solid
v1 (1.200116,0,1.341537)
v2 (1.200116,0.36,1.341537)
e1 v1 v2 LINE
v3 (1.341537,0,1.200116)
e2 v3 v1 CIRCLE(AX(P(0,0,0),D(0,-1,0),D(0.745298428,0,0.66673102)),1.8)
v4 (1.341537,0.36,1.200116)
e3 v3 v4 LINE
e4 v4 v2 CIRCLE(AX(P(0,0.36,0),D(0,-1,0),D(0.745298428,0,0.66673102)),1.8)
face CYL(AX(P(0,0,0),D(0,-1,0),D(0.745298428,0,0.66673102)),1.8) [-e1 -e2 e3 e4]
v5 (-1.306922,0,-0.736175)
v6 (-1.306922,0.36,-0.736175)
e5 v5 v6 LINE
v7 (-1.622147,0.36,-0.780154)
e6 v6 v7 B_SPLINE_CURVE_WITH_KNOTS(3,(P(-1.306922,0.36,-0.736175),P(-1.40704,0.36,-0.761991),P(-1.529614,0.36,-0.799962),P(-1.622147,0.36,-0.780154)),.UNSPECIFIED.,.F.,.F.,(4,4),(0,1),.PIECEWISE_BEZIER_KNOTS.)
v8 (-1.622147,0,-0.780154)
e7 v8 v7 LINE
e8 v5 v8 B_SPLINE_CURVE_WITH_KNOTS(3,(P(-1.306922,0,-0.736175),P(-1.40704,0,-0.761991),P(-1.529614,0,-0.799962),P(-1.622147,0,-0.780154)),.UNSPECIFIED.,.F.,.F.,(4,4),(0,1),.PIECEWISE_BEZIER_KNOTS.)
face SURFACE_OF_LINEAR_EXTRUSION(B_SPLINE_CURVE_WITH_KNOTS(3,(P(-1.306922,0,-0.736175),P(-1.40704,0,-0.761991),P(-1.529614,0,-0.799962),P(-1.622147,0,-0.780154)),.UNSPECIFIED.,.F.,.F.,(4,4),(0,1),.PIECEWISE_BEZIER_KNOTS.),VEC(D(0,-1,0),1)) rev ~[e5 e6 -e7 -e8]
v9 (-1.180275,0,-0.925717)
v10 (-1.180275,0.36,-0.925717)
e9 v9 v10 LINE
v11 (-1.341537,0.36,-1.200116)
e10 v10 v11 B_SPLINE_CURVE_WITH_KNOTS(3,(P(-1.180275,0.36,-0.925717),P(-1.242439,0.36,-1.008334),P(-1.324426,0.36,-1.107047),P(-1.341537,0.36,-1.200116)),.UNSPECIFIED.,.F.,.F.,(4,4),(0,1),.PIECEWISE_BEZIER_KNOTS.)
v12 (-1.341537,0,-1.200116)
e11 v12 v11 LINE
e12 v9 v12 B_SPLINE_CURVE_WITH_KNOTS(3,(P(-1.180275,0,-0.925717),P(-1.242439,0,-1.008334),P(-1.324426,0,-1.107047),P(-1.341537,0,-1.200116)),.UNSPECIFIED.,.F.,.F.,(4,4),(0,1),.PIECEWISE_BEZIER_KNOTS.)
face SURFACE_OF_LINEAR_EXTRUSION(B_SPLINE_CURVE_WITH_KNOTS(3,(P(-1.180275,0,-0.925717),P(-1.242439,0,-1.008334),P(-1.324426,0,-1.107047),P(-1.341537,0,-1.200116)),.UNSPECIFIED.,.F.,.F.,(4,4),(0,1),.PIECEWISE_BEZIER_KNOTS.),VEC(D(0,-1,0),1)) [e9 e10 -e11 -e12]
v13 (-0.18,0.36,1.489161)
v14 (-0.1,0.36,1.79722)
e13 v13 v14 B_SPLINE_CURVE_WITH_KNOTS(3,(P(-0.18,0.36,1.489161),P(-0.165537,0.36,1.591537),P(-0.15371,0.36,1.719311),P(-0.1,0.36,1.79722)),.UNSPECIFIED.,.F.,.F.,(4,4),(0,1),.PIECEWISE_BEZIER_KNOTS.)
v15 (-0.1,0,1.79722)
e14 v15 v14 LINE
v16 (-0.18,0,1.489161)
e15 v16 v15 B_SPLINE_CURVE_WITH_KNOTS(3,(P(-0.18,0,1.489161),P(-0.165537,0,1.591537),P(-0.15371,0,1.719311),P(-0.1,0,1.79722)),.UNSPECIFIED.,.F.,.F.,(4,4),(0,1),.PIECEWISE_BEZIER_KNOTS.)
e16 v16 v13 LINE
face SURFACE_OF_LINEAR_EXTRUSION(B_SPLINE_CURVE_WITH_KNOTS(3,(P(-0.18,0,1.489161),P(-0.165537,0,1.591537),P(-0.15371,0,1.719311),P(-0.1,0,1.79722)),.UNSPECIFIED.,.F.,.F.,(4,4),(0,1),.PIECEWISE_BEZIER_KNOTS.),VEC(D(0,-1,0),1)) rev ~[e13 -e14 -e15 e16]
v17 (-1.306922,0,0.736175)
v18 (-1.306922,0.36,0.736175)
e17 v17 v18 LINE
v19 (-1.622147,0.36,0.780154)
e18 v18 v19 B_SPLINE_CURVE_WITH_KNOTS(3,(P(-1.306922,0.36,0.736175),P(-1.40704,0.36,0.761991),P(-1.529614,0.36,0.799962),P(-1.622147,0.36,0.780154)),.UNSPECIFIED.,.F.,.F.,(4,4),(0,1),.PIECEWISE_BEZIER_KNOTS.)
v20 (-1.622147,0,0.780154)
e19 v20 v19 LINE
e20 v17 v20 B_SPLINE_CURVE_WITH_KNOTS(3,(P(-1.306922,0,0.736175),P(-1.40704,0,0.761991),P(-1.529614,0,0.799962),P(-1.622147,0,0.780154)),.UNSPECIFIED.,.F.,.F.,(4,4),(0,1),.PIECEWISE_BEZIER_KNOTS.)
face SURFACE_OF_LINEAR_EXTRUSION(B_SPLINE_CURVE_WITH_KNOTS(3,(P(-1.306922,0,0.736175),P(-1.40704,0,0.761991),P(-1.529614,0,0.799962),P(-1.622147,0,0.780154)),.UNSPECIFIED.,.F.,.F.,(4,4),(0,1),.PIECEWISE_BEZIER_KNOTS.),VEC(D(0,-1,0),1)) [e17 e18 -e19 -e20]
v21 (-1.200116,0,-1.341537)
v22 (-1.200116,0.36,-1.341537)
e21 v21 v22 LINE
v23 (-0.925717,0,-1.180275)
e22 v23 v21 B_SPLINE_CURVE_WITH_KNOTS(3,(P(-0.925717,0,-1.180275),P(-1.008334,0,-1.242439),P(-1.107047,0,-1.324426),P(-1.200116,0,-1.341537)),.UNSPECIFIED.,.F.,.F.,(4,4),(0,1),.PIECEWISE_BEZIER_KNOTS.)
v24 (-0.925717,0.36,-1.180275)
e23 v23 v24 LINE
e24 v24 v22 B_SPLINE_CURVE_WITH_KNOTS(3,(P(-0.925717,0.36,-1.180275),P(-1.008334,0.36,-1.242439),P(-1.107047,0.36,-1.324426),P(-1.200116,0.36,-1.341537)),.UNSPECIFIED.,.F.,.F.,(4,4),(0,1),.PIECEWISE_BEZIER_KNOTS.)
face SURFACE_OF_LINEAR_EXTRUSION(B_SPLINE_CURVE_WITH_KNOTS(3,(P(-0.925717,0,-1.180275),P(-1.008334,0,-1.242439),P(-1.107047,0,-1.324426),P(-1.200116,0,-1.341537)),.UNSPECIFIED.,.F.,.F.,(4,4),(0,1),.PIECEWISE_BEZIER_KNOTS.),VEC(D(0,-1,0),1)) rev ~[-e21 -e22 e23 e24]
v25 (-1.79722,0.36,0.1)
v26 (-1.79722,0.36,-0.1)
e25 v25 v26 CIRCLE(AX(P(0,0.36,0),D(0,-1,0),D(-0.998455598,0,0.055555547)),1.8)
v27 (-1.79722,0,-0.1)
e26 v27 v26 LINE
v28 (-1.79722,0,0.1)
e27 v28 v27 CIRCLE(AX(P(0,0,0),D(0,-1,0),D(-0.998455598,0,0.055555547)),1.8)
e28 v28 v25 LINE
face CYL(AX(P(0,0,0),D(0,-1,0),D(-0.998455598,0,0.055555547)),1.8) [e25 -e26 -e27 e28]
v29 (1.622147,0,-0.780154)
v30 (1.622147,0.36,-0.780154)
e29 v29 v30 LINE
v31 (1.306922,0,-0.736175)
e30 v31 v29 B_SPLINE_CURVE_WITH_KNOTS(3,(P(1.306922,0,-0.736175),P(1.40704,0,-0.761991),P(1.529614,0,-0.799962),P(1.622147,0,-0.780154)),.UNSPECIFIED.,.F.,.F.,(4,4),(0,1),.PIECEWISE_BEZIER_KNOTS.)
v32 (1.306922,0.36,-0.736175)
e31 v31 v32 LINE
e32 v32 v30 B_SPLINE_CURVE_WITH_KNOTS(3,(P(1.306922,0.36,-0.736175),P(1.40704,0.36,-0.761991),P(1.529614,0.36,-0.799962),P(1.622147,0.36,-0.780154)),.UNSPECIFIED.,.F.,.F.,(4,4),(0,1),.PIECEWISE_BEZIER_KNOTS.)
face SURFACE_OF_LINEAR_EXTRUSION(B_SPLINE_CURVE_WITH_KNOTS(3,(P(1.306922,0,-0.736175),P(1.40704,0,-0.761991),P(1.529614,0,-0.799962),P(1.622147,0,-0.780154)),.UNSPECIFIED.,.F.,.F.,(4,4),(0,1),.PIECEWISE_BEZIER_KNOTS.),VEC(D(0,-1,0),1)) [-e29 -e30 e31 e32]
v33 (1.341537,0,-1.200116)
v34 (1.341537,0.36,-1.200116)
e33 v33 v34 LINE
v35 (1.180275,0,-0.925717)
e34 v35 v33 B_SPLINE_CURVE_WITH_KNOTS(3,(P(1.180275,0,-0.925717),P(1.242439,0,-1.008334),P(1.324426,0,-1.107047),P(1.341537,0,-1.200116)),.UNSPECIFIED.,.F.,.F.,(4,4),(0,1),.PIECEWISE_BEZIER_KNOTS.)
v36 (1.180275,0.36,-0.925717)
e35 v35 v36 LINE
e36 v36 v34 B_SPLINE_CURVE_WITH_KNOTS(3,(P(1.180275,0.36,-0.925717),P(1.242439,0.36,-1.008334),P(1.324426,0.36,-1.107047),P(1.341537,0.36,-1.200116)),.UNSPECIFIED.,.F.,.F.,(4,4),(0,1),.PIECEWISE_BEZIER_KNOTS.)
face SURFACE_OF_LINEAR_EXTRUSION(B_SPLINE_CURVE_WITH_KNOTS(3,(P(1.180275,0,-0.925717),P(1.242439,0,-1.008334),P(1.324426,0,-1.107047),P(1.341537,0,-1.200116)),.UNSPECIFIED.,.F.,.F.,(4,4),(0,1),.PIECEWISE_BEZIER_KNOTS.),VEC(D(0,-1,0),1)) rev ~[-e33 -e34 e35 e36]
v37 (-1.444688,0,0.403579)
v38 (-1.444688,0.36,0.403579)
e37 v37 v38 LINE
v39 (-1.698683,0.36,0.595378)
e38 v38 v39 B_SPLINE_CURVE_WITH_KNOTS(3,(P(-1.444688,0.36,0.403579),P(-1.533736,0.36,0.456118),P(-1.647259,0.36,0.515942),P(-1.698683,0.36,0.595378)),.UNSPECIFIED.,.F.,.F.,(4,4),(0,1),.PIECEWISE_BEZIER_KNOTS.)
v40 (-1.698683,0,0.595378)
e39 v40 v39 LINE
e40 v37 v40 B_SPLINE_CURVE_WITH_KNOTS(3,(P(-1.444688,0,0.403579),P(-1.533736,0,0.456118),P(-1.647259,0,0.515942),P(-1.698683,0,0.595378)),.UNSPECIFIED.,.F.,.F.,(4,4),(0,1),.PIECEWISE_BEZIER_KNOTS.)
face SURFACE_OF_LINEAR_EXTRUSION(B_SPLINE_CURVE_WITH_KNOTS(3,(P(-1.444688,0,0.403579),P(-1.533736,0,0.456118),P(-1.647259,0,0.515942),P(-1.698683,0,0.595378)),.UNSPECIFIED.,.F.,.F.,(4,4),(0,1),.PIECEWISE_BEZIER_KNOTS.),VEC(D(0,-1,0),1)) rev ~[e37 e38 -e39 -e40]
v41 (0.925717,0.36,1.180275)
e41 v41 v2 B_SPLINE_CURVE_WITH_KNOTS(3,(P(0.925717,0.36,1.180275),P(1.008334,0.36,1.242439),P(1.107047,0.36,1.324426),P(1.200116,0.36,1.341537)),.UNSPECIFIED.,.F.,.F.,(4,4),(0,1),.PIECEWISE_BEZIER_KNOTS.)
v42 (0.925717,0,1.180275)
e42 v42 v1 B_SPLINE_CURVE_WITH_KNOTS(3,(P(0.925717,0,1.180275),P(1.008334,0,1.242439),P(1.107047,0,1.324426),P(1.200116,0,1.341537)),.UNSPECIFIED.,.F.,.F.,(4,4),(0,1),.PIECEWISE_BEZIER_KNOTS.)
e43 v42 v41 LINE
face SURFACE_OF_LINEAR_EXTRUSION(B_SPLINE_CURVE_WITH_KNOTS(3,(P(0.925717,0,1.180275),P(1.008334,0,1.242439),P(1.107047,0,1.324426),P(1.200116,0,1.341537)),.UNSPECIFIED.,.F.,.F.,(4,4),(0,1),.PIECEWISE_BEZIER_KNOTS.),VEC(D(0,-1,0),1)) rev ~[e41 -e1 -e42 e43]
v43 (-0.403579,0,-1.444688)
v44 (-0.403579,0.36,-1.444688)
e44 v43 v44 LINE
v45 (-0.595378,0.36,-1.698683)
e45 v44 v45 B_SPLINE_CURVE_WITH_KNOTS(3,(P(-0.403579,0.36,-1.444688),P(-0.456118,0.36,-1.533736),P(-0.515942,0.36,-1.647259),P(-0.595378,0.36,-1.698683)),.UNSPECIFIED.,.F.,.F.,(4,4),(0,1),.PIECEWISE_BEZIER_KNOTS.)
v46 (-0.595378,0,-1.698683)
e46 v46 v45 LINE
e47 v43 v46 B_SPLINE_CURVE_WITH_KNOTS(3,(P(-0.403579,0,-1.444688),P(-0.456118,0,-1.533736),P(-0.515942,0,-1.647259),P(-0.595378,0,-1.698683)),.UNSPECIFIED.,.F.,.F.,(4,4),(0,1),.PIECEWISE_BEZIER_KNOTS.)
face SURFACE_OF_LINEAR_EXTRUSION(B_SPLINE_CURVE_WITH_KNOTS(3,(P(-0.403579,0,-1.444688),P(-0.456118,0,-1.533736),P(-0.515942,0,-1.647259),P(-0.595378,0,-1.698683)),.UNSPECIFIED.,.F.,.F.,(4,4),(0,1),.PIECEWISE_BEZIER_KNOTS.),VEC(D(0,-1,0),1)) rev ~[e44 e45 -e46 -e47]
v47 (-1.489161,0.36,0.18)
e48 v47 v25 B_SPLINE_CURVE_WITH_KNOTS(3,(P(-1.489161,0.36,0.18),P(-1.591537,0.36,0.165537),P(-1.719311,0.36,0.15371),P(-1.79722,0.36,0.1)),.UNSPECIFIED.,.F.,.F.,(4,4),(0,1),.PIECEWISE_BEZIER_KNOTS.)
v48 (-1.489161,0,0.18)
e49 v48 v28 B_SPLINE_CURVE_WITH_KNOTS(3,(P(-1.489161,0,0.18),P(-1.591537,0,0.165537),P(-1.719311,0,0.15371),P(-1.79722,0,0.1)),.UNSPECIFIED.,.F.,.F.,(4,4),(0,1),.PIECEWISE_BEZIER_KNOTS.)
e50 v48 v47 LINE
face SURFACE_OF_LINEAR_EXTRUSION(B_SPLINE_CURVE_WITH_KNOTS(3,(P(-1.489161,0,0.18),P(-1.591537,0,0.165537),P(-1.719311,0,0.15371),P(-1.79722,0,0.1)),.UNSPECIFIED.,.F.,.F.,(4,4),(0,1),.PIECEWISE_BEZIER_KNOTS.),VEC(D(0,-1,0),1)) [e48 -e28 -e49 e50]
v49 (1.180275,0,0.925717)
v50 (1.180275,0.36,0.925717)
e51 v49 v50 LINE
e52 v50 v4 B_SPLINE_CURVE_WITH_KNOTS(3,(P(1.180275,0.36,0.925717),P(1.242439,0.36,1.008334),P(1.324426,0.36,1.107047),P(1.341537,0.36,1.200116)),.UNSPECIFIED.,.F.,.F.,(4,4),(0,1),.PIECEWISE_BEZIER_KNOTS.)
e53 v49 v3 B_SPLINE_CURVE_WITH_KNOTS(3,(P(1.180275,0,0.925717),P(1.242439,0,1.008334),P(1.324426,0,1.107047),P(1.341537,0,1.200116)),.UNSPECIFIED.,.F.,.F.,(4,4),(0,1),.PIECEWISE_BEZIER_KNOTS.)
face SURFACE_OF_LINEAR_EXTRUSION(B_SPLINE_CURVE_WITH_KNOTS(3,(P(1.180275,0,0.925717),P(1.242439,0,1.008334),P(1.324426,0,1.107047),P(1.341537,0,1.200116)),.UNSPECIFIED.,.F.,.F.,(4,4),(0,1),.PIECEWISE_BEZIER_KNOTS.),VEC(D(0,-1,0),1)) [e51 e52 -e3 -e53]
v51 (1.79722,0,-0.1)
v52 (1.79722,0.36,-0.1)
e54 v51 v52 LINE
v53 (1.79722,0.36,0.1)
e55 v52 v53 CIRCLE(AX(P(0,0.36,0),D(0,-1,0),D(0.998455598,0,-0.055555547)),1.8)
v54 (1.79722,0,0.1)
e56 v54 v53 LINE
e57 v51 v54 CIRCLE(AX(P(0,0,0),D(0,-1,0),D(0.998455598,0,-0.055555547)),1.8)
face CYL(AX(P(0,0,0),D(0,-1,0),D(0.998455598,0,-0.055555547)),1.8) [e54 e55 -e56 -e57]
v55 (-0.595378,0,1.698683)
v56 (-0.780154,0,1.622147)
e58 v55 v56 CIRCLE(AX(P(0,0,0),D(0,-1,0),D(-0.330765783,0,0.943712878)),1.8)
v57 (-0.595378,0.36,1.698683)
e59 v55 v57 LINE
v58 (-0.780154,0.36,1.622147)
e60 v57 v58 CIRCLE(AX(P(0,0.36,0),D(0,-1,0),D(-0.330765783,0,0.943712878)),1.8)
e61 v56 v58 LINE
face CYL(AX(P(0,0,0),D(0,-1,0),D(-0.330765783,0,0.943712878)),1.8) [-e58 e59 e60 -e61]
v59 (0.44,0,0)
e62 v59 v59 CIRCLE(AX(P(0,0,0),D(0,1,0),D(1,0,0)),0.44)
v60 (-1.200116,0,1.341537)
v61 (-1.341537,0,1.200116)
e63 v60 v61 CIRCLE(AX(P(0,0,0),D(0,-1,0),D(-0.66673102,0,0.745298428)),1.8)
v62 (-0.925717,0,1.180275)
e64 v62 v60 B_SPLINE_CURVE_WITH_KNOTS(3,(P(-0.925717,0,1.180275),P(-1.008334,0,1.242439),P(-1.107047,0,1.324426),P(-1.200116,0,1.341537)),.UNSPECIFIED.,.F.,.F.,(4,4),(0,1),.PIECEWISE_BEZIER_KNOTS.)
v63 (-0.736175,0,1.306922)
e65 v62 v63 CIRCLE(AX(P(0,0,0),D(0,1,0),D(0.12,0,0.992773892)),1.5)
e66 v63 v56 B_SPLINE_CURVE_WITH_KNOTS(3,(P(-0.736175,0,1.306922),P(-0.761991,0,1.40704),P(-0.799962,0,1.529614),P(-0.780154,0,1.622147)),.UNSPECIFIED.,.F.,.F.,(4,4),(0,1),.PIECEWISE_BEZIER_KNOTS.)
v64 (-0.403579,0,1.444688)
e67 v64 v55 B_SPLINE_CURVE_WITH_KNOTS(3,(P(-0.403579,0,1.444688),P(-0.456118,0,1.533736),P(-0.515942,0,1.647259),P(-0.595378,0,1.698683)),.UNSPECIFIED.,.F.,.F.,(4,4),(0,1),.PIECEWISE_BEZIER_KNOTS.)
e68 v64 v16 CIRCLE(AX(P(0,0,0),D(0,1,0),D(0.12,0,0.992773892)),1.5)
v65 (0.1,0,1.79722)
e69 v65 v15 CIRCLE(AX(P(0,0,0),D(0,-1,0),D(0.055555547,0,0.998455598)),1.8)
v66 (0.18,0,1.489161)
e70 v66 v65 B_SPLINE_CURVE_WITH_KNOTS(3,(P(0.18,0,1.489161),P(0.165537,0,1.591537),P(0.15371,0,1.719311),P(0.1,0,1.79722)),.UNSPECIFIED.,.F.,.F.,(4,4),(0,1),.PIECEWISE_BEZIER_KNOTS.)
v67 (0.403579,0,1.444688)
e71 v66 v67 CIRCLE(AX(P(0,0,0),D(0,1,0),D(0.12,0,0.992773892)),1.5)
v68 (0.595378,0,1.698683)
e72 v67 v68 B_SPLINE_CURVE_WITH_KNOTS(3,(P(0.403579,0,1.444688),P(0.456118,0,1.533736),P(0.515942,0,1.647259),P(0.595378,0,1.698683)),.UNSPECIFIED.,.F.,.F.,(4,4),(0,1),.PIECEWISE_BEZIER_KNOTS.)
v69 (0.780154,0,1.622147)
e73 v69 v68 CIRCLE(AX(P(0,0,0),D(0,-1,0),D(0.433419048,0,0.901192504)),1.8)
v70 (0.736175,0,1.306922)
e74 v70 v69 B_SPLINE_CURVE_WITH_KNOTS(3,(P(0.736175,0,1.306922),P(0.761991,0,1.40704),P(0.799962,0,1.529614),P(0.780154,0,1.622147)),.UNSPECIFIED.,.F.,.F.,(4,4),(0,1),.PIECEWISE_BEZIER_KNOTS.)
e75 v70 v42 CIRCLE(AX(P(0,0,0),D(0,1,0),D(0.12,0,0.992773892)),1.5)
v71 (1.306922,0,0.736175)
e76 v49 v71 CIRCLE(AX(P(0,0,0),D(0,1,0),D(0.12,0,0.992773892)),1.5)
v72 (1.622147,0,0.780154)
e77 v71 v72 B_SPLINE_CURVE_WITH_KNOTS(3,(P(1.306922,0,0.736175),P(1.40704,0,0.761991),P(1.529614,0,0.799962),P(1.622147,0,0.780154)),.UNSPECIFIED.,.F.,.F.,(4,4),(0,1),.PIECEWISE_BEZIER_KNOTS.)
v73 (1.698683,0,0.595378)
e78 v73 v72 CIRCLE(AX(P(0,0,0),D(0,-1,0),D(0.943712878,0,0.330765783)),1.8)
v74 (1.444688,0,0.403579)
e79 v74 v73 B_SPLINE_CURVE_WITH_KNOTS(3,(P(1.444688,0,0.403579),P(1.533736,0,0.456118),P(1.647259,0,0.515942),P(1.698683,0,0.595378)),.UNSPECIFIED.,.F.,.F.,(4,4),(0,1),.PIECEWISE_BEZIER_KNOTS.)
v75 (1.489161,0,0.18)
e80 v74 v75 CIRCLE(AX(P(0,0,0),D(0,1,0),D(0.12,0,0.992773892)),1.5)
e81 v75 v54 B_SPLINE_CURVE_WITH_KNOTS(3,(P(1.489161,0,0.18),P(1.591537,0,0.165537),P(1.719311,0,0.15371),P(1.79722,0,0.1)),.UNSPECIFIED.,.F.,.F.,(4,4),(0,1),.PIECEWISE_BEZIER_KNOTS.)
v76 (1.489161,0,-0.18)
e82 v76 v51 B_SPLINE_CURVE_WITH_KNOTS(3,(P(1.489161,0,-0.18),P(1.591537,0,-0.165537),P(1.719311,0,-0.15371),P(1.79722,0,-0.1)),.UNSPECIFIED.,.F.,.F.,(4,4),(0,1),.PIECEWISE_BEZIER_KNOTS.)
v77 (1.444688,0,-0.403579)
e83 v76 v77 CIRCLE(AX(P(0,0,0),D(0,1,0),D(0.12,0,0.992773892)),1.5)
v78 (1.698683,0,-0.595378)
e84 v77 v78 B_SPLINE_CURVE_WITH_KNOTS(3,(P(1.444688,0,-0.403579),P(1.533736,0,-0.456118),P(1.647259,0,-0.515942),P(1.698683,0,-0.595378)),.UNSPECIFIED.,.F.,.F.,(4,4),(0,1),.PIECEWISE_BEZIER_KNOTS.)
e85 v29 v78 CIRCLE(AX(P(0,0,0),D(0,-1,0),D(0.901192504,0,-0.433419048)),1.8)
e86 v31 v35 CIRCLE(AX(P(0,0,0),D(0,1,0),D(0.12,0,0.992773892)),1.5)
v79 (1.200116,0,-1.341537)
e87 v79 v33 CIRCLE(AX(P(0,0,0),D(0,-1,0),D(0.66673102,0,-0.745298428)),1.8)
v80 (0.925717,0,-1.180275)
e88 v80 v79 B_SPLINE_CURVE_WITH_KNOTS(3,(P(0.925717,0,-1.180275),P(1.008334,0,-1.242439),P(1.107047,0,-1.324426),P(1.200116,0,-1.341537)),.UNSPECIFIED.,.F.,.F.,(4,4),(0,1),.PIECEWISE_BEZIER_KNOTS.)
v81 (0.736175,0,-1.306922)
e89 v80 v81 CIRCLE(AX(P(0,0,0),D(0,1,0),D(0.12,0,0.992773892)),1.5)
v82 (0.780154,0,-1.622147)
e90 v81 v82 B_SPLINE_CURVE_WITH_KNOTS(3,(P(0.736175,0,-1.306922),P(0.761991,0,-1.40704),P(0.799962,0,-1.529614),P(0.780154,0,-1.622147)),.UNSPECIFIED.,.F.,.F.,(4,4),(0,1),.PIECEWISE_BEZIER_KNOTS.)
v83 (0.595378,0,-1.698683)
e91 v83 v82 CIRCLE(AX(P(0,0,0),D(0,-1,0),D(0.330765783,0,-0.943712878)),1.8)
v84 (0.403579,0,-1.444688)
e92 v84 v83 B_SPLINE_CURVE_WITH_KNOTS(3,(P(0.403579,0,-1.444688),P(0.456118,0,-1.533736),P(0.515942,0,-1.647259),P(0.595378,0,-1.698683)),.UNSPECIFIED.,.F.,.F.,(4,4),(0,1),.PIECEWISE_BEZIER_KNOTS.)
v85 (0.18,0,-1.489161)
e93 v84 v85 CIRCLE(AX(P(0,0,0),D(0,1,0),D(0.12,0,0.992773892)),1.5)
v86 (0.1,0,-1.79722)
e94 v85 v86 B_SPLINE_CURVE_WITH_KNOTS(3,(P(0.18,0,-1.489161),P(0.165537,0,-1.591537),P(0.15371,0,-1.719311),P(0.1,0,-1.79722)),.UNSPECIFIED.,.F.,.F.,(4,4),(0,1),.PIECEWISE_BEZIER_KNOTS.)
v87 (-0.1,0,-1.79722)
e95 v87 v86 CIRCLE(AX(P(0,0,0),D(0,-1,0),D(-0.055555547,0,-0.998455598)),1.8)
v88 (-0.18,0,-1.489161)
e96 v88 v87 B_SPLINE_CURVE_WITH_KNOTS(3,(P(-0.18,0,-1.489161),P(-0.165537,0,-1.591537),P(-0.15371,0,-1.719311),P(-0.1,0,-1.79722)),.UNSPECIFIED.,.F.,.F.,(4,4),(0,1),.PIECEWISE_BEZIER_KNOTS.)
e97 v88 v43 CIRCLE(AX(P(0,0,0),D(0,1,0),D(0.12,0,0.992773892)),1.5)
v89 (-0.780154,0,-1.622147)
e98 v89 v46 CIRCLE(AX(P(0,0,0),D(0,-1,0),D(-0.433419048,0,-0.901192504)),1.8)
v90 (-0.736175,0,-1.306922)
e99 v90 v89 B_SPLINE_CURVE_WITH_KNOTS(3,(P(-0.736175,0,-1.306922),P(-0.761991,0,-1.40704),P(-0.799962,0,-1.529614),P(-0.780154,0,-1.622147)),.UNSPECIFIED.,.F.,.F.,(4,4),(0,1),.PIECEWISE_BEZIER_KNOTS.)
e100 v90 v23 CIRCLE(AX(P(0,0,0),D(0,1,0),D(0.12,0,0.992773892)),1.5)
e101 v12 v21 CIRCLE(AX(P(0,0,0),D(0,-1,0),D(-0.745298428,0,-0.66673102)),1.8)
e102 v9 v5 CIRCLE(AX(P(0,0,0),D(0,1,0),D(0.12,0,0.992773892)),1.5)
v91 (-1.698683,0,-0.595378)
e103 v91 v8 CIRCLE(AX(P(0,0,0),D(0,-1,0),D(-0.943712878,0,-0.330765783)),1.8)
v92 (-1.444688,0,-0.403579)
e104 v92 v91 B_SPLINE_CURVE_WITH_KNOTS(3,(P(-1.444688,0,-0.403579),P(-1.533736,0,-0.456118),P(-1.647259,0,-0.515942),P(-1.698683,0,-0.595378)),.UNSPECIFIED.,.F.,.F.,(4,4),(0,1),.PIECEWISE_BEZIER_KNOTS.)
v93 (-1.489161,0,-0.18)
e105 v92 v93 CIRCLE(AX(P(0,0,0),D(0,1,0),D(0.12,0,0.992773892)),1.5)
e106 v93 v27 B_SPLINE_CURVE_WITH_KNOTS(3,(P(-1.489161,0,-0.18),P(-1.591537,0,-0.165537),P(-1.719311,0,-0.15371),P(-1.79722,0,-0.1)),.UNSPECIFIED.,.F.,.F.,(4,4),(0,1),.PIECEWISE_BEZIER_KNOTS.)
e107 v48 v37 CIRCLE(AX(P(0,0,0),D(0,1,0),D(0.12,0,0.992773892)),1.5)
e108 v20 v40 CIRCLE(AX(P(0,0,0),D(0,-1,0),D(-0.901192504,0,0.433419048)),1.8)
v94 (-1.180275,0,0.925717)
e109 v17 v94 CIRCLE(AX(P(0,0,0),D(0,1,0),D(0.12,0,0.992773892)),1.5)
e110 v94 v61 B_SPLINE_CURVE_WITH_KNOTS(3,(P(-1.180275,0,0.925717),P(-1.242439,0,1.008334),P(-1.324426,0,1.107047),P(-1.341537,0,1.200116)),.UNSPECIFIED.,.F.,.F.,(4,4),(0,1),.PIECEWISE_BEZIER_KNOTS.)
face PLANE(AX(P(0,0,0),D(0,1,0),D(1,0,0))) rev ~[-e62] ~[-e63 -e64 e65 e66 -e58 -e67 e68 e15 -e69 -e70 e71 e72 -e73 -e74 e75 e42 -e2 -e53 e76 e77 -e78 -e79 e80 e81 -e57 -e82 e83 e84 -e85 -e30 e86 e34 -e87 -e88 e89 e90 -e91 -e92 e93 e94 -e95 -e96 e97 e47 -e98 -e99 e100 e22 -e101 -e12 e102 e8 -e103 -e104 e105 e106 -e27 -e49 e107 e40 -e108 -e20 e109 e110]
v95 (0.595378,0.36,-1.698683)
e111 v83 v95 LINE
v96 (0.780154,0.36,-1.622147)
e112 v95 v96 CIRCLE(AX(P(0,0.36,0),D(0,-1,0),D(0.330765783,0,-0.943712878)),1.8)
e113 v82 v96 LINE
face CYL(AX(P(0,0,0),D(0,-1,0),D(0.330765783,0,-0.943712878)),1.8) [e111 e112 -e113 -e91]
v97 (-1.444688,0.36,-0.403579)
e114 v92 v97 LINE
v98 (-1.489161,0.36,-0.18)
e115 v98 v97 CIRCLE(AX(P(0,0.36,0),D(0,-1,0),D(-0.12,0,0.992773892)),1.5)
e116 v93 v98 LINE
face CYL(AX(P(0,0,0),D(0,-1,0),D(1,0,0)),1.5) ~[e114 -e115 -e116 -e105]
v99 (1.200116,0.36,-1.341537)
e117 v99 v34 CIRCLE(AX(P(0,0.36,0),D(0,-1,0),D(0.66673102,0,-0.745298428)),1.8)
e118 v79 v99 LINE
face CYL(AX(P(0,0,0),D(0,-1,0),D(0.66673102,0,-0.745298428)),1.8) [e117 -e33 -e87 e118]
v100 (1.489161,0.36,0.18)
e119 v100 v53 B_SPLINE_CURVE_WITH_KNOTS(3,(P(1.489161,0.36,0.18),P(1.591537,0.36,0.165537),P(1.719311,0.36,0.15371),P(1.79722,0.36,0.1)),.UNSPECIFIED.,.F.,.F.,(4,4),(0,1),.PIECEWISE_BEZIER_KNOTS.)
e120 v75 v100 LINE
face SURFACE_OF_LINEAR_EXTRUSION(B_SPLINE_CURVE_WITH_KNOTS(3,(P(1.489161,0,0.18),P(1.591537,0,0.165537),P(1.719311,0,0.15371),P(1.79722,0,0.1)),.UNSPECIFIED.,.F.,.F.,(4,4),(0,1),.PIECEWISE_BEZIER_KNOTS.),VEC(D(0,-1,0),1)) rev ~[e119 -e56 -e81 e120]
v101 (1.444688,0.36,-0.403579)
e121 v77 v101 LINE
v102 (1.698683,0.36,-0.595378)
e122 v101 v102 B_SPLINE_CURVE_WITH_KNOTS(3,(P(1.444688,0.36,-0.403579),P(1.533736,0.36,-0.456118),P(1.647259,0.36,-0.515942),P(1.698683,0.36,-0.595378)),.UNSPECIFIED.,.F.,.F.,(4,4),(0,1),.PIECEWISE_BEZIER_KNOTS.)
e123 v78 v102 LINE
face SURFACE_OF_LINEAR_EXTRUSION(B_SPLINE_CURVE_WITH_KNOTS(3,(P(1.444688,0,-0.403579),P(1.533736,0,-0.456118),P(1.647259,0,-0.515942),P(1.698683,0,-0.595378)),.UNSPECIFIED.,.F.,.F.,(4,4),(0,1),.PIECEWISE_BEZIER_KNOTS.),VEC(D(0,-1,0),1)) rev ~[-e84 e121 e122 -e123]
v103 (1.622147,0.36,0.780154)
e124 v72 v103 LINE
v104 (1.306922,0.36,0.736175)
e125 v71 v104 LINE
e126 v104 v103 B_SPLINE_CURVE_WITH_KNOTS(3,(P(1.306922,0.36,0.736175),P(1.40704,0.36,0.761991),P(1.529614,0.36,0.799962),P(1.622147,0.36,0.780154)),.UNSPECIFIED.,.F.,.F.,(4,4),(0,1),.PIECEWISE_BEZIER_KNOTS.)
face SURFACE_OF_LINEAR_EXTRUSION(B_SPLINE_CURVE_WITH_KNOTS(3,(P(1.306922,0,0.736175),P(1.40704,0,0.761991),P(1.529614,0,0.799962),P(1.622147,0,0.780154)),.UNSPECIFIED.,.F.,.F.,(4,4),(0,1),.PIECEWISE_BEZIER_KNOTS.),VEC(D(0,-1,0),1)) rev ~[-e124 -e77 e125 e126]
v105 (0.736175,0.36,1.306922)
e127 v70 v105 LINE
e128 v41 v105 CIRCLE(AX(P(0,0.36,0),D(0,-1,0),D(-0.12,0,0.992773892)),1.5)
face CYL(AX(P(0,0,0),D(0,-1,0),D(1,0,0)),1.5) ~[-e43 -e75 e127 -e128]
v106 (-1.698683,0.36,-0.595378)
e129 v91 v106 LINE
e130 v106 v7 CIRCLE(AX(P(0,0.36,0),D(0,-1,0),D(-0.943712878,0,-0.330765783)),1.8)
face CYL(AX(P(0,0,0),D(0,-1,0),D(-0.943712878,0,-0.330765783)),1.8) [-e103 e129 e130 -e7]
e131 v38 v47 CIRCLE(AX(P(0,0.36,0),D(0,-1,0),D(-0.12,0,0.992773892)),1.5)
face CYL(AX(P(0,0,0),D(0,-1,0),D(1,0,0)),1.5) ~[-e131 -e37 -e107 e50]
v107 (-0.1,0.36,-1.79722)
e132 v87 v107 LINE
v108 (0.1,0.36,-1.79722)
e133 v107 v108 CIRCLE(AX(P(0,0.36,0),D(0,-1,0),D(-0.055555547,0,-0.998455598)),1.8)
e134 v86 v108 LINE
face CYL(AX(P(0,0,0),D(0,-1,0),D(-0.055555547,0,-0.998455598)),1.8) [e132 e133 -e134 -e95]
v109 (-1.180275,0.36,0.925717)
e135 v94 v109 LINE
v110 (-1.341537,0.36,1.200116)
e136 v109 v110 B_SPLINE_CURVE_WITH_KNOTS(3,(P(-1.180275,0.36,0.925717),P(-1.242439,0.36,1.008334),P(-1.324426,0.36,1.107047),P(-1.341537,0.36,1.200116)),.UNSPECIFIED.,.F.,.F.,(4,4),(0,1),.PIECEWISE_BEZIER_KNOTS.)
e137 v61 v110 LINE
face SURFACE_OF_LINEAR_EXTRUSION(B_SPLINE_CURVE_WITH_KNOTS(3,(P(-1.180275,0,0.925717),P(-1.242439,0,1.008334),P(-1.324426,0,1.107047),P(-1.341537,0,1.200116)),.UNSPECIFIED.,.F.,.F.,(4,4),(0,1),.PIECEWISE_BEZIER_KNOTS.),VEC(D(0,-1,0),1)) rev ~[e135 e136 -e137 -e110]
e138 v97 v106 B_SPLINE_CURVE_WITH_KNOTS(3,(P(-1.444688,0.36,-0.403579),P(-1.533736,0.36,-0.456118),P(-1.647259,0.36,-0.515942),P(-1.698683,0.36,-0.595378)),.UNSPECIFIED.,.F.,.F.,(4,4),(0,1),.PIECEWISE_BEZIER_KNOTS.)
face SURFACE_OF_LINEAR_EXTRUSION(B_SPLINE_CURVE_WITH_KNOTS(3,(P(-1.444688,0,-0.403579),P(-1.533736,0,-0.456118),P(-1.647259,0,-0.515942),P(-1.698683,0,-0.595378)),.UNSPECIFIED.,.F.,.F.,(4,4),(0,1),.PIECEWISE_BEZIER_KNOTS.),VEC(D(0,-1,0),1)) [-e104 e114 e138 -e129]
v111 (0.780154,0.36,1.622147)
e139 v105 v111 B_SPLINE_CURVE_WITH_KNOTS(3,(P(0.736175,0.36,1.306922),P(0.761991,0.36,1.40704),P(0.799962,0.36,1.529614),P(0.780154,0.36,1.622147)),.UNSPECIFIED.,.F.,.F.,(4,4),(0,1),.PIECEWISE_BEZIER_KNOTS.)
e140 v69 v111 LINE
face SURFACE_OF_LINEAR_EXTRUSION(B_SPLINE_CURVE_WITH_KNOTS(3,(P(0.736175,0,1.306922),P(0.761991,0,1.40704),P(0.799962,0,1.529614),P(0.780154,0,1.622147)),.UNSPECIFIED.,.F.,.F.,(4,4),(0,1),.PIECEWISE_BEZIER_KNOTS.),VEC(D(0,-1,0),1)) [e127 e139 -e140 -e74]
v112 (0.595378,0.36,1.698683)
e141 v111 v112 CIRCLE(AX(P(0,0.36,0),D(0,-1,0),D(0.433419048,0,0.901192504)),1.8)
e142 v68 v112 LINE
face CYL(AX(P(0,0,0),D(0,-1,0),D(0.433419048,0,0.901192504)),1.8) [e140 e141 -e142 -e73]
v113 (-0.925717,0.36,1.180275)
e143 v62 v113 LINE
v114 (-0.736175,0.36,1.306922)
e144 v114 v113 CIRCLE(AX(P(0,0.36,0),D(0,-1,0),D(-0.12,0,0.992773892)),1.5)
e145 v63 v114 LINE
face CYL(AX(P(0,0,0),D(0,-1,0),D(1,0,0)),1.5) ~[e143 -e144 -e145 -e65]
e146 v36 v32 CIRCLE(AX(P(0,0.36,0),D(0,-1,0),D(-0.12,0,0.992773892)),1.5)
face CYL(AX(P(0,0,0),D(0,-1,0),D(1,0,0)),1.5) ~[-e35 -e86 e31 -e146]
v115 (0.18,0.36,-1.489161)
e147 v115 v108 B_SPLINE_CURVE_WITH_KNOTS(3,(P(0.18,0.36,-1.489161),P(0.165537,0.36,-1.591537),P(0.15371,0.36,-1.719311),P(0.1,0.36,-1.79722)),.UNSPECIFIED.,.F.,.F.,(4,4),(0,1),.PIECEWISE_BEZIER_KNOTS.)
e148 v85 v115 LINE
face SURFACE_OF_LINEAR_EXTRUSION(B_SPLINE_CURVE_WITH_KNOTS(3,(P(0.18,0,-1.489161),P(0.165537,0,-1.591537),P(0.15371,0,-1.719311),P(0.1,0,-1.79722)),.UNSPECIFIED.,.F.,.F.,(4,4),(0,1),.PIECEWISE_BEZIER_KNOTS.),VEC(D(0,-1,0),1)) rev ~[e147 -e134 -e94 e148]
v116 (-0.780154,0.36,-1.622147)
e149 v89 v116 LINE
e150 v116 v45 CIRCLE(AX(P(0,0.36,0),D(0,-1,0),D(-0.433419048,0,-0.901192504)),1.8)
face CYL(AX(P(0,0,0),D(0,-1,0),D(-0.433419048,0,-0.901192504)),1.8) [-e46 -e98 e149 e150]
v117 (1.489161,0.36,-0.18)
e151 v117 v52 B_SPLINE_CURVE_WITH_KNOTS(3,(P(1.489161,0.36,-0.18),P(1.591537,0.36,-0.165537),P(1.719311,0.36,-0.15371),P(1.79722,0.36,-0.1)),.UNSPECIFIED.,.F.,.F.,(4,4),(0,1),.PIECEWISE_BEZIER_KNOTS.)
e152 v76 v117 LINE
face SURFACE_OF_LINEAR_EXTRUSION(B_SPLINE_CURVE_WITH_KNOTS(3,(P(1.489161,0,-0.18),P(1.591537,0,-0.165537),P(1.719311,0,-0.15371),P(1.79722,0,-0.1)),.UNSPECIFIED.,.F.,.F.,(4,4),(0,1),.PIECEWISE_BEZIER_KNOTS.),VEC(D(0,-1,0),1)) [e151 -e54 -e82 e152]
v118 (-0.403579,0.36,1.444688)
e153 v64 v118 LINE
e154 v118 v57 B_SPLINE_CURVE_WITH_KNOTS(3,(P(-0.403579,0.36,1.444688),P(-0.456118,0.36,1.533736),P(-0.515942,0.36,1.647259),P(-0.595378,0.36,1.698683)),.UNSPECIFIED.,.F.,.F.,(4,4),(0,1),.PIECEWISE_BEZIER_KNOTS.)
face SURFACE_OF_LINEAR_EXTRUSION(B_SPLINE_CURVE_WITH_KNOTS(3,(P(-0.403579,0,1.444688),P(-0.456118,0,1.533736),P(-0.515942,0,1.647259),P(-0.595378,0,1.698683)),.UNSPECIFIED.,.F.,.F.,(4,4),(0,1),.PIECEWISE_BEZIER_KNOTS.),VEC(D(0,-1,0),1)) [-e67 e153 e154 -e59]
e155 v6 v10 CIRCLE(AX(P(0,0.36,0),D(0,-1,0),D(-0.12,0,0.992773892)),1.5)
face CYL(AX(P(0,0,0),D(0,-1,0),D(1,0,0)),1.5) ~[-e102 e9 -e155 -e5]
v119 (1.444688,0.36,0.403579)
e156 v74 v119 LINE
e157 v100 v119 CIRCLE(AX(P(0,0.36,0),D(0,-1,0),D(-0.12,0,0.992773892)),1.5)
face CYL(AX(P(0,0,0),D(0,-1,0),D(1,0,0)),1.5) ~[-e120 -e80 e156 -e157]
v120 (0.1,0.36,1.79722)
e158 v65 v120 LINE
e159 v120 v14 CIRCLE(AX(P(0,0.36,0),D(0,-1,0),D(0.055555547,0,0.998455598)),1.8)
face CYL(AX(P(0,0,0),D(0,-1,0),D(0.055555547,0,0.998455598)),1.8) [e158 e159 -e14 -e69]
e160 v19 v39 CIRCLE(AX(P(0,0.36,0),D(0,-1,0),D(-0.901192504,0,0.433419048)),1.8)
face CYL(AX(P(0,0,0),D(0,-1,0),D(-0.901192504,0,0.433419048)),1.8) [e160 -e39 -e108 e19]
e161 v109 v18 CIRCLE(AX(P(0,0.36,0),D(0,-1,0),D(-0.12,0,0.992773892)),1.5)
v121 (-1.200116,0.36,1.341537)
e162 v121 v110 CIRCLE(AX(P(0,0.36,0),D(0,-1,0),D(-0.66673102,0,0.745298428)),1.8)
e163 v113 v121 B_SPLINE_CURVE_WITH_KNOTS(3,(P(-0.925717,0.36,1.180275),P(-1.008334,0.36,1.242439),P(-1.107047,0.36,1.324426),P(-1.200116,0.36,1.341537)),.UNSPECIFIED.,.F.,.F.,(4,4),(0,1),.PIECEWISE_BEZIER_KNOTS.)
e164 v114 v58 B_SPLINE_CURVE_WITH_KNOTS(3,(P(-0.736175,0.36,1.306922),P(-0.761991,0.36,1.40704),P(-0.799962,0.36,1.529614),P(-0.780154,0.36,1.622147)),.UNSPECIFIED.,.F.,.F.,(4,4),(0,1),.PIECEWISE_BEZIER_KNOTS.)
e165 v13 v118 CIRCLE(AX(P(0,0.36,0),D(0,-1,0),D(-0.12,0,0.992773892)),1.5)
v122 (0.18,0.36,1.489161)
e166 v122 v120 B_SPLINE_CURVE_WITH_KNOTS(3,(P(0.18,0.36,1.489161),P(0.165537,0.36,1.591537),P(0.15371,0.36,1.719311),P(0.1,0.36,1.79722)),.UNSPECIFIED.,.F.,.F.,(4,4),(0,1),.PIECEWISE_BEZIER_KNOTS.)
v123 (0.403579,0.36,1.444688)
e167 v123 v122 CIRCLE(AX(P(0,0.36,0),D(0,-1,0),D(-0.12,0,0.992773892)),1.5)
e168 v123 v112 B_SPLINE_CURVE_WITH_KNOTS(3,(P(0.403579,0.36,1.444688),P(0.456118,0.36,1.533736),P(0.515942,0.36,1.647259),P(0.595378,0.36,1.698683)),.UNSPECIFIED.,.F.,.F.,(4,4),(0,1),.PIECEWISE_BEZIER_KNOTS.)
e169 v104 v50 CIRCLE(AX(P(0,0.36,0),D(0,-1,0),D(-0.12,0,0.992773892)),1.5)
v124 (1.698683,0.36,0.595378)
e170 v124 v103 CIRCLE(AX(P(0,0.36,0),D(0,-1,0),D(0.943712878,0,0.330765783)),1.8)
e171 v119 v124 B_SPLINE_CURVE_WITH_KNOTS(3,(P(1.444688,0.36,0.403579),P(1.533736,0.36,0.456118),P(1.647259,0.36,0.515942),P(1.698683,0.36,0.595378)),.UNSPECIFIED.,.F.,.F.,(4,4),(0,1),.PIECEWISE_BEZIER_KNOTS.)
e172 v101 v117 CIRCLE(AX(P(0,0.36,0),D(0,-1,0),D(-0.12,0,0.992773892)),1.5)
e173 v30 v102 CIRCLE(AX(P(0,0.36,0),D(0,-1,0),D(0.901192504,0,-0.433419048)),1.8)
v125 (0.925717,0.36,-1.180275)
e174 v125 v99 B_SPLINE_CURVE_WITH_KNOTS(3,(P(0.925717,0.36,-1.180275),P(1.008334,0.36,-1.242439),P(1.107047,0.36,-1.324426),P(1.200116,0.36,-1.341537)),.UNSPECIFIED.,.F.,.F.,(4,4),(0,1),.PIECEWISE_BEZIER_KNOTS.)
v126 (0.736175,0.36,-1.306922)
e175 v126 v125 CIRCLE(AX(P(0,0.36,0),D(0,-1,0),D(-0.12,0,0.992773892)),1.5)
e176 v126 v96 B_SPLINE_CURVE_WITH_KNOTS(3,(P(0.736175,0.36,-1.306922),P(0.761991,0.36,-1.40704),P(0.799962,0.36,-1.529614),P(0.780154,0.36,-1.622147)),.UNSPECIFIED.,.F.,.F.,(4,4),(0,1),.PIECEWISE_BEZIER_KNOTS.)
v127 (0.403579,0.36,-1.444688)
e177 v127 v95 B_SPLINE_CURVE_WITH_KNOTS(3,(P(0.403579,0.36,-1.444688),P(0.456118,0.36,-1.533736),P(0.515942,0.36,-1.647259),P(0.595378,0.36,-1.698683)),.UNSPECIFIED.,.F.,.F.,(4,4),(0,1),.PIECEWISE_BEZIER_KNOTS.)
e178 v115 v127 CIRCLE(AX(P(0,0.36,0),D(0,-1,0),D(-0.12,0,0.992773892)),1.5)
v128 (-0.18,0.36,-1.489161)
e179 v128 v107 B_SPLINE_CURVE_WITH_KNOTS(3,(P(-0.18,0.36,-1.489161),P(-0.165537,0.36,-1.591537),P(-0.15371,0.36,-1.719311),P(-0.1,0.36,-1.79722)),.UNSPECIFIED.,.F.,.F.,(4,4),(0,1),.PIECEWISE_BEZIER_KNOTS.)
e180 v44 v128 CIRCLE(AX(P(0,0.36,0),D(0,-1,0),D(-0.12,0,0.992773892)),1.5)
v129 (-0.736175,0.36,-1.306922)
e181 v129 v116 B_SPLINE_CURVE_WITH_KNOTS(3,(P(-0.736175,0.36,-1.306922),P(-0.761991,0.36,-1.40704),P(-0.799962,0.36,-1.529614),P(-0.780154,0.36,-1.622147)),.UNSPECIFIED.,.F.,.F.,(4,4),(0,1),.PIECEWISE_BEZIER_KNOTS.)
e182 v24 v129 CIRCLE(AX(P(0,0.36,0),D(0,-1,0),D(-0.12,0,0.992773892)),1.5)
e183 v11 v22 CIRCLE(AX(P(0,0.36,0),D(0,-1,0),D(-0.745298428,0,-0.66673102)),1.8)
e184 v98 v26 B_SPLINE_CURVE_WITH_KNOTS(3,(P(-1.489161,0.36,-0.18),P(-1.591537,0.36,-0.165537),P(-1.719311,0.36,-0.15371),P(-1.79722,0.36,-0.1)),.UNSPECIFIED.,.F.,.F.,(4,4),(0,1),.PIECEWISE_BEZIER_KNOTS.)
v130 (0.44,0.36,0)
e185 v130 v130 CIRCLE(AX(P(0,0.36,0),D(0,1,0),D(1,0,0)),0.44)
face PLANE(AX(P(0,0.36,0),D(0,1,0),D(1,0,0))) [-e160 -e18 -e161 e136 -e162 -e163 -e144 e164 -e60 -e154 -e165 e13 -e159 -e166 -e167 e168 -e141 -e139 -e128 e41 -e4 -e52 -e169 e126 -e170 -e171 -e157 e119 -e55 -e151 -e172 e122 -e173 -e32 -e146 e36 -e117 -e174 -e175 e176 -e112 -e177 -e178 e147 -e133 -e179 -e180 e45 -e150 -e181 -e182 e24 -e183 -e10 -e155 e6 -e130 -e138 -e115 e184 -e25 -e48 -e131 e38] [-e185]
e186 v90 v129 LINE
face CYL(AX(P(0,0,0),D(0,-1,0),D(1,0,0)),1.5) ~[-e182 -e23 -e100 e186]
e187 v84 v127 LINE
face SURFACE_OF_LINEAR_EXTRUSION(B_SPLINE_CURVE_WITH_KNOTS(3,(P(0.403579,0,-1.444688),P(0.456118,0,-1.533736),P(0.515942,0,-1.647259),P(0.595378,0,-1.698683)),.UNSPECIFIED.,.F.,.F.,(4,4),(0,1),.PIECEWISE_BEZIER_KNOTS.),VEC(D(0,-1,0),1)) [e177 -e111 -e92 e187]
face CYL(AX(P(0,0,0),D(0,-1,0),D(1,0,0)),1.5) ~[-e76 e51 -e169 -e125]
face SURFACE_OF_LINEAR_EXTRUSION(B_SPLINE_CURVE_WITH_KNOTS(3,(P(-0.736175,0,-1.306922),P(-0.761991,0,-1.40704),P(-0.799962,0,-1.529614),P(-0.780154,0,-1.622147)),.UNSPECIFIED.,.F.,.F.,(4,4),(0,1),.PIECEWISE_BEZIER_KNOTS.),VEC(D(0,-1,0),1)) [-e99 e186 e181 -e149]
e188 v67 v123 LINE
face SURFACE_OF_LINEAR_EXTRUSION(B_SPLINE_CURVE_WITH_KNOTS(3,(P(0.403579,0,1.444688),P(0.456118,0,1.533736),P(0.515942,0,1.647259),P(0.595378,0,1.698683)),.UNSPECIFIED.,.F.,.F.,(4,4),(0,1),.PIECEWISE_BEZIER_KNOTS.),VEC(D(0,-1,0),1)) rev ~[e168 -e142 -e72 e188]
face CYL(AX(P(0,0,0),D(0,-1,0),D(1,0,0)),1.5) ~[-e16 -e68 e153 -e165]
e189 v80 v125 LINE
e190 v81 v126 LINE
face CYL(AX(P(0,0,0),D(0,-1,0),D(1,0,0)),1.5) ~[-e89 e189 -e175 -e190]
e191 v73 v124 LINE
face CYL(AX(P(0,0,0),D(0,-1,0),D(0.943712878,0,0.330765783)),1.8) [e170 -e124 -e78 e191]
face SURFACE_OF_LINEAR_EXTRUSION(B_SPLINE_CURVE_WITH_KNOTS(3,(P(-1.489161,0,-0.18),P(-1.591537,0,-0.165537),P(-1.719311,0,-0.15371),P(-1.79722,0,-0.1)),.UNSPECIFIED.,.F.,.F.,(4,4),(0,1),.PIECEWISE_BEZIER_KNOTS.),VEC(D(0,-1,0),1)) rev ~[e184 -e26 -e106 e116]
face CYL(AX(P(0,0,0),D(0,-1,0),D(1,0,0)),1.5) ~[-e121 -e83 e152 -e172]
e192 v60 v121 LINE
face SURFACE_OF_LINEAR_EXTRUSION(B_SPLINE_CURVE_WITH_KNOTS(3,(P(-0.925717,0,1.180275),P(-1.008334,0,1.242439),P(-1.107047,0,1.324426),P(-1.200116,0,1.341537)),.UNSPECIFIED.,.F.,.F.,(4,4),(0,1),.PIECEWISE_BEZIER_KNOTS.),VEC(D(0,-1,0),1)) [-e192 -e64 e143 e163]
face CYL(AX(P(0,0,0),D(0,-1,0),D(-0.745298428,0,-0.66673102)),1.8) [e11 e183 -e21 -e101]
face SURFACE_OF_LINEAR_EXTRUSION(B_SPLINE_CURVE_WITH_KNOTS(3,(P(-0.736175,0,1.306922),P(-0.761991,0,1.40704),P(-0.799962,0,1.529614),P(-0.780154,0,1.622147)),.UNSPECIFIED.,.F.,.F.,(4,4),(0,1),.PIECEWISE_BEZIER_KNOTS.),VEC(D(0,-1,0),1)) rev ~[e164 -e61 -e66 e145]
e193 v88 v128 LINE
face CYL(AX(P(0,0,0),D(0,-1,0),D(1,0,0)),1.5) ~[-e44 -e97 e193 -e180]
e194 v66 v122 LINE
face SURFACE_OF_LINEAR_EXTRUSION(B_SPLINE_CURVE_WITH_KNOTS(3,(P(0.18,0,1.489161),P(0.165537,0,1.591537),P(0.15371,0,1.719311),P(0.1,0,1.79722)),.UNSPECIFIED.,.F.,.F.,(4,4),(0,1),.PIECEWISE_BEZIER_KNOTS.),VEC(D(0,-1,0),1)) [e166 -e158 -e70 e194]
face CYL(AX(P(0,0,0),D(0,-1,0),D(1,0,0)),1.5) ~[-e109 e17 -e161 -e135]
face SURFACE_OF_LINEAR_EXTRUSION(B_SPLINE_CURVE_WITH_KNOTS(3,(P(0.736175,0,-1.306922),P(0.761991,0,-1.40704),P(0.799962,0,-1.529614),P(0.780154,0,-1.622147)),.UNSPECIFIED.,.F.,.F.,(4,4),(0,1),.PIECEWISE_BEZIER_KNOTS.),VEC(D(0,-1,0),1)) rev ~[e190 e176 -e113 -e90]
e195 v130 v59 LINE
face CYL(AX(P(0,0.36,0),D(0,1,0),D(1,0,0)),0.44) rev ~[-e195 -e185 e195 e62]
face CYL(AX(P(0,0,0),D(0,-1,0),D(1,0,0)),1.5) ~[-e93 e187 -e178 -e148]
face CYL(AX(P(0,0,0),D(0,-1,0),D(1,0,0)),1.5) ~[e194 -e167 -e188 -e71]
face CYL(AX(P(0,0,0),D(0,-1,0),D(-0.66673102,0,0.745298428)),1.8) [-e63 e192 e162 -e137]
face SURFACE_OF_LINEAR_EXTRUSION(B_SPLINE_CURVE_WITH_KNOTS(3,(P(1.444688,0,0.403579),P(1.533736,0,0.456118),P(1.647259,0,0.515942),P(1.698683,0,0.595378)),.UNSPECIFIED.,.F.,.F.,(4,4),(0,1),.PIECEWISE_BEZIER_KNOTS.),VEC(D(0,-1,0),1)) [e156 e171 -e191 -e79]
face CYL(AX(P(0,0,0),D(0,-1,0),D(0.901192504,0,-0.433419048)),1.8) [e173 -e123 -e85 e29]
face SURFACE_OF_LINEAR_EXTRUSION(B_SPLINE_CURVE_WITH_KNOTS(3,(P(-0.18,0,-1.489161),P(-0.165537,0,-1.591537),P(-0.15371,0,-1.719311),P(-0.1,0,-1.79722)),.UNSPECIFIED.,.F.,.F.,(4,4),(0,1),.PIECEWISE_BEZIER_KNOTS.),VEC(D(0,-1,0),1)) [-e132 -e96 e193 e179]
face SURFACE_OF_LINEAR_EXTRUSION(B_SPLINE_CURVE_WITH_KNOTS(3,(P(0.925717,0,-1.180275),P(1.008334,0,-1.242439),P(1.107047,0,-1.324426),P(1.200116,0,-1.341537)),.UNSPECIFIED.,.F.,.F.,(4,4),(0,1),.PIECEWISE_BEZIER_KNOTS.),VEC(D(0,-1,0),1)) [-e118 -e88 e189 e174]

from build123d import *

# Parameters (mm, degrees)
SKETCH1_R           = 1.5
BOSS_EXTRUDE1_DEPTH = 0.36
BOSS_EXTRUDE2_DEPTH = 0.36
CIRPATTERN1_COUNT   = 16
SKETCH3_R           = 0.44
CUT_EXTRUDE1_DEPTH  = 1.3600001


with BuildPart() as part:
    # Sketch1 → Boss-Extrude1 (new body)
    with BuildSketch(Plane(origin=(0, 0, 0), x_dir=(1, 0, 0), z_dir=(0, 1, 0))):
        Circle(SKETCH1_R)
    extrude(amount=BOSS_EXTRUDE1_DEPTH)

    # Sketch2 → Boss-Extrude2 (add)
    with BuildSketch(Plane(origin=(0, 0, 0), x_dir=(1, 0, 0), z_dir=(0, 1, 0))):
        with BuildLine():
            ThreePointArc((-0.18, -1.489160838), (0, -1.5), (0.18, -1.489160838))
            add(Edge.make_bspline(
                [(0.18, -1.489160838), (0.165537061, -1.591536545), (0.153710341, -1.719311353), (0.1, -1.797220076)],
                knots=[0, 0, 0, 0, 1, 1, 1, 1], degree=3))
            ThreePointArc((0.1, -1.797220076), (0, -1.8), (-0.1, -1.797220076))
            add(Edge.make_bspline(
                [(-0.18, -1.489160838), (-0.165537061, -1.591536545), (-0.153710341, -1.719311353), (-0.1, -1.797220076)],
                knots=[0, 0, 0, 0, 1, 1, 1, 1], degree=3))
        make_face()
    boss_extrude2 = extrude(amount=BOSS_EXTRUDE2_DEPTH)

    # CirPattern1: Boss-Extrude2 ×16 about axis
    cirpattern1_axis = Axis((0, 0.36, 0), (0, -1, 0))
    for i in range(1, CIRPATTERN1_COUNT):
        add(boss_extrude2.rotate(cirpattern1_axis, i * 360 / CIRPATTERN1_COUNT))

    # Sketch3 → Cut-Extrude1 (cut, through all)
    with BuildSketch(Plane(origin=(0, 0.36, 0), x_dir=(1, 0, 0), z_dir=(0, 1, 0))):
        Circle(SKETCH3_R)
    extrude(amount=-CUT_EXTRUDE1_DEPTH, mode=Mode.SUBTRACT)


solid = part.part
